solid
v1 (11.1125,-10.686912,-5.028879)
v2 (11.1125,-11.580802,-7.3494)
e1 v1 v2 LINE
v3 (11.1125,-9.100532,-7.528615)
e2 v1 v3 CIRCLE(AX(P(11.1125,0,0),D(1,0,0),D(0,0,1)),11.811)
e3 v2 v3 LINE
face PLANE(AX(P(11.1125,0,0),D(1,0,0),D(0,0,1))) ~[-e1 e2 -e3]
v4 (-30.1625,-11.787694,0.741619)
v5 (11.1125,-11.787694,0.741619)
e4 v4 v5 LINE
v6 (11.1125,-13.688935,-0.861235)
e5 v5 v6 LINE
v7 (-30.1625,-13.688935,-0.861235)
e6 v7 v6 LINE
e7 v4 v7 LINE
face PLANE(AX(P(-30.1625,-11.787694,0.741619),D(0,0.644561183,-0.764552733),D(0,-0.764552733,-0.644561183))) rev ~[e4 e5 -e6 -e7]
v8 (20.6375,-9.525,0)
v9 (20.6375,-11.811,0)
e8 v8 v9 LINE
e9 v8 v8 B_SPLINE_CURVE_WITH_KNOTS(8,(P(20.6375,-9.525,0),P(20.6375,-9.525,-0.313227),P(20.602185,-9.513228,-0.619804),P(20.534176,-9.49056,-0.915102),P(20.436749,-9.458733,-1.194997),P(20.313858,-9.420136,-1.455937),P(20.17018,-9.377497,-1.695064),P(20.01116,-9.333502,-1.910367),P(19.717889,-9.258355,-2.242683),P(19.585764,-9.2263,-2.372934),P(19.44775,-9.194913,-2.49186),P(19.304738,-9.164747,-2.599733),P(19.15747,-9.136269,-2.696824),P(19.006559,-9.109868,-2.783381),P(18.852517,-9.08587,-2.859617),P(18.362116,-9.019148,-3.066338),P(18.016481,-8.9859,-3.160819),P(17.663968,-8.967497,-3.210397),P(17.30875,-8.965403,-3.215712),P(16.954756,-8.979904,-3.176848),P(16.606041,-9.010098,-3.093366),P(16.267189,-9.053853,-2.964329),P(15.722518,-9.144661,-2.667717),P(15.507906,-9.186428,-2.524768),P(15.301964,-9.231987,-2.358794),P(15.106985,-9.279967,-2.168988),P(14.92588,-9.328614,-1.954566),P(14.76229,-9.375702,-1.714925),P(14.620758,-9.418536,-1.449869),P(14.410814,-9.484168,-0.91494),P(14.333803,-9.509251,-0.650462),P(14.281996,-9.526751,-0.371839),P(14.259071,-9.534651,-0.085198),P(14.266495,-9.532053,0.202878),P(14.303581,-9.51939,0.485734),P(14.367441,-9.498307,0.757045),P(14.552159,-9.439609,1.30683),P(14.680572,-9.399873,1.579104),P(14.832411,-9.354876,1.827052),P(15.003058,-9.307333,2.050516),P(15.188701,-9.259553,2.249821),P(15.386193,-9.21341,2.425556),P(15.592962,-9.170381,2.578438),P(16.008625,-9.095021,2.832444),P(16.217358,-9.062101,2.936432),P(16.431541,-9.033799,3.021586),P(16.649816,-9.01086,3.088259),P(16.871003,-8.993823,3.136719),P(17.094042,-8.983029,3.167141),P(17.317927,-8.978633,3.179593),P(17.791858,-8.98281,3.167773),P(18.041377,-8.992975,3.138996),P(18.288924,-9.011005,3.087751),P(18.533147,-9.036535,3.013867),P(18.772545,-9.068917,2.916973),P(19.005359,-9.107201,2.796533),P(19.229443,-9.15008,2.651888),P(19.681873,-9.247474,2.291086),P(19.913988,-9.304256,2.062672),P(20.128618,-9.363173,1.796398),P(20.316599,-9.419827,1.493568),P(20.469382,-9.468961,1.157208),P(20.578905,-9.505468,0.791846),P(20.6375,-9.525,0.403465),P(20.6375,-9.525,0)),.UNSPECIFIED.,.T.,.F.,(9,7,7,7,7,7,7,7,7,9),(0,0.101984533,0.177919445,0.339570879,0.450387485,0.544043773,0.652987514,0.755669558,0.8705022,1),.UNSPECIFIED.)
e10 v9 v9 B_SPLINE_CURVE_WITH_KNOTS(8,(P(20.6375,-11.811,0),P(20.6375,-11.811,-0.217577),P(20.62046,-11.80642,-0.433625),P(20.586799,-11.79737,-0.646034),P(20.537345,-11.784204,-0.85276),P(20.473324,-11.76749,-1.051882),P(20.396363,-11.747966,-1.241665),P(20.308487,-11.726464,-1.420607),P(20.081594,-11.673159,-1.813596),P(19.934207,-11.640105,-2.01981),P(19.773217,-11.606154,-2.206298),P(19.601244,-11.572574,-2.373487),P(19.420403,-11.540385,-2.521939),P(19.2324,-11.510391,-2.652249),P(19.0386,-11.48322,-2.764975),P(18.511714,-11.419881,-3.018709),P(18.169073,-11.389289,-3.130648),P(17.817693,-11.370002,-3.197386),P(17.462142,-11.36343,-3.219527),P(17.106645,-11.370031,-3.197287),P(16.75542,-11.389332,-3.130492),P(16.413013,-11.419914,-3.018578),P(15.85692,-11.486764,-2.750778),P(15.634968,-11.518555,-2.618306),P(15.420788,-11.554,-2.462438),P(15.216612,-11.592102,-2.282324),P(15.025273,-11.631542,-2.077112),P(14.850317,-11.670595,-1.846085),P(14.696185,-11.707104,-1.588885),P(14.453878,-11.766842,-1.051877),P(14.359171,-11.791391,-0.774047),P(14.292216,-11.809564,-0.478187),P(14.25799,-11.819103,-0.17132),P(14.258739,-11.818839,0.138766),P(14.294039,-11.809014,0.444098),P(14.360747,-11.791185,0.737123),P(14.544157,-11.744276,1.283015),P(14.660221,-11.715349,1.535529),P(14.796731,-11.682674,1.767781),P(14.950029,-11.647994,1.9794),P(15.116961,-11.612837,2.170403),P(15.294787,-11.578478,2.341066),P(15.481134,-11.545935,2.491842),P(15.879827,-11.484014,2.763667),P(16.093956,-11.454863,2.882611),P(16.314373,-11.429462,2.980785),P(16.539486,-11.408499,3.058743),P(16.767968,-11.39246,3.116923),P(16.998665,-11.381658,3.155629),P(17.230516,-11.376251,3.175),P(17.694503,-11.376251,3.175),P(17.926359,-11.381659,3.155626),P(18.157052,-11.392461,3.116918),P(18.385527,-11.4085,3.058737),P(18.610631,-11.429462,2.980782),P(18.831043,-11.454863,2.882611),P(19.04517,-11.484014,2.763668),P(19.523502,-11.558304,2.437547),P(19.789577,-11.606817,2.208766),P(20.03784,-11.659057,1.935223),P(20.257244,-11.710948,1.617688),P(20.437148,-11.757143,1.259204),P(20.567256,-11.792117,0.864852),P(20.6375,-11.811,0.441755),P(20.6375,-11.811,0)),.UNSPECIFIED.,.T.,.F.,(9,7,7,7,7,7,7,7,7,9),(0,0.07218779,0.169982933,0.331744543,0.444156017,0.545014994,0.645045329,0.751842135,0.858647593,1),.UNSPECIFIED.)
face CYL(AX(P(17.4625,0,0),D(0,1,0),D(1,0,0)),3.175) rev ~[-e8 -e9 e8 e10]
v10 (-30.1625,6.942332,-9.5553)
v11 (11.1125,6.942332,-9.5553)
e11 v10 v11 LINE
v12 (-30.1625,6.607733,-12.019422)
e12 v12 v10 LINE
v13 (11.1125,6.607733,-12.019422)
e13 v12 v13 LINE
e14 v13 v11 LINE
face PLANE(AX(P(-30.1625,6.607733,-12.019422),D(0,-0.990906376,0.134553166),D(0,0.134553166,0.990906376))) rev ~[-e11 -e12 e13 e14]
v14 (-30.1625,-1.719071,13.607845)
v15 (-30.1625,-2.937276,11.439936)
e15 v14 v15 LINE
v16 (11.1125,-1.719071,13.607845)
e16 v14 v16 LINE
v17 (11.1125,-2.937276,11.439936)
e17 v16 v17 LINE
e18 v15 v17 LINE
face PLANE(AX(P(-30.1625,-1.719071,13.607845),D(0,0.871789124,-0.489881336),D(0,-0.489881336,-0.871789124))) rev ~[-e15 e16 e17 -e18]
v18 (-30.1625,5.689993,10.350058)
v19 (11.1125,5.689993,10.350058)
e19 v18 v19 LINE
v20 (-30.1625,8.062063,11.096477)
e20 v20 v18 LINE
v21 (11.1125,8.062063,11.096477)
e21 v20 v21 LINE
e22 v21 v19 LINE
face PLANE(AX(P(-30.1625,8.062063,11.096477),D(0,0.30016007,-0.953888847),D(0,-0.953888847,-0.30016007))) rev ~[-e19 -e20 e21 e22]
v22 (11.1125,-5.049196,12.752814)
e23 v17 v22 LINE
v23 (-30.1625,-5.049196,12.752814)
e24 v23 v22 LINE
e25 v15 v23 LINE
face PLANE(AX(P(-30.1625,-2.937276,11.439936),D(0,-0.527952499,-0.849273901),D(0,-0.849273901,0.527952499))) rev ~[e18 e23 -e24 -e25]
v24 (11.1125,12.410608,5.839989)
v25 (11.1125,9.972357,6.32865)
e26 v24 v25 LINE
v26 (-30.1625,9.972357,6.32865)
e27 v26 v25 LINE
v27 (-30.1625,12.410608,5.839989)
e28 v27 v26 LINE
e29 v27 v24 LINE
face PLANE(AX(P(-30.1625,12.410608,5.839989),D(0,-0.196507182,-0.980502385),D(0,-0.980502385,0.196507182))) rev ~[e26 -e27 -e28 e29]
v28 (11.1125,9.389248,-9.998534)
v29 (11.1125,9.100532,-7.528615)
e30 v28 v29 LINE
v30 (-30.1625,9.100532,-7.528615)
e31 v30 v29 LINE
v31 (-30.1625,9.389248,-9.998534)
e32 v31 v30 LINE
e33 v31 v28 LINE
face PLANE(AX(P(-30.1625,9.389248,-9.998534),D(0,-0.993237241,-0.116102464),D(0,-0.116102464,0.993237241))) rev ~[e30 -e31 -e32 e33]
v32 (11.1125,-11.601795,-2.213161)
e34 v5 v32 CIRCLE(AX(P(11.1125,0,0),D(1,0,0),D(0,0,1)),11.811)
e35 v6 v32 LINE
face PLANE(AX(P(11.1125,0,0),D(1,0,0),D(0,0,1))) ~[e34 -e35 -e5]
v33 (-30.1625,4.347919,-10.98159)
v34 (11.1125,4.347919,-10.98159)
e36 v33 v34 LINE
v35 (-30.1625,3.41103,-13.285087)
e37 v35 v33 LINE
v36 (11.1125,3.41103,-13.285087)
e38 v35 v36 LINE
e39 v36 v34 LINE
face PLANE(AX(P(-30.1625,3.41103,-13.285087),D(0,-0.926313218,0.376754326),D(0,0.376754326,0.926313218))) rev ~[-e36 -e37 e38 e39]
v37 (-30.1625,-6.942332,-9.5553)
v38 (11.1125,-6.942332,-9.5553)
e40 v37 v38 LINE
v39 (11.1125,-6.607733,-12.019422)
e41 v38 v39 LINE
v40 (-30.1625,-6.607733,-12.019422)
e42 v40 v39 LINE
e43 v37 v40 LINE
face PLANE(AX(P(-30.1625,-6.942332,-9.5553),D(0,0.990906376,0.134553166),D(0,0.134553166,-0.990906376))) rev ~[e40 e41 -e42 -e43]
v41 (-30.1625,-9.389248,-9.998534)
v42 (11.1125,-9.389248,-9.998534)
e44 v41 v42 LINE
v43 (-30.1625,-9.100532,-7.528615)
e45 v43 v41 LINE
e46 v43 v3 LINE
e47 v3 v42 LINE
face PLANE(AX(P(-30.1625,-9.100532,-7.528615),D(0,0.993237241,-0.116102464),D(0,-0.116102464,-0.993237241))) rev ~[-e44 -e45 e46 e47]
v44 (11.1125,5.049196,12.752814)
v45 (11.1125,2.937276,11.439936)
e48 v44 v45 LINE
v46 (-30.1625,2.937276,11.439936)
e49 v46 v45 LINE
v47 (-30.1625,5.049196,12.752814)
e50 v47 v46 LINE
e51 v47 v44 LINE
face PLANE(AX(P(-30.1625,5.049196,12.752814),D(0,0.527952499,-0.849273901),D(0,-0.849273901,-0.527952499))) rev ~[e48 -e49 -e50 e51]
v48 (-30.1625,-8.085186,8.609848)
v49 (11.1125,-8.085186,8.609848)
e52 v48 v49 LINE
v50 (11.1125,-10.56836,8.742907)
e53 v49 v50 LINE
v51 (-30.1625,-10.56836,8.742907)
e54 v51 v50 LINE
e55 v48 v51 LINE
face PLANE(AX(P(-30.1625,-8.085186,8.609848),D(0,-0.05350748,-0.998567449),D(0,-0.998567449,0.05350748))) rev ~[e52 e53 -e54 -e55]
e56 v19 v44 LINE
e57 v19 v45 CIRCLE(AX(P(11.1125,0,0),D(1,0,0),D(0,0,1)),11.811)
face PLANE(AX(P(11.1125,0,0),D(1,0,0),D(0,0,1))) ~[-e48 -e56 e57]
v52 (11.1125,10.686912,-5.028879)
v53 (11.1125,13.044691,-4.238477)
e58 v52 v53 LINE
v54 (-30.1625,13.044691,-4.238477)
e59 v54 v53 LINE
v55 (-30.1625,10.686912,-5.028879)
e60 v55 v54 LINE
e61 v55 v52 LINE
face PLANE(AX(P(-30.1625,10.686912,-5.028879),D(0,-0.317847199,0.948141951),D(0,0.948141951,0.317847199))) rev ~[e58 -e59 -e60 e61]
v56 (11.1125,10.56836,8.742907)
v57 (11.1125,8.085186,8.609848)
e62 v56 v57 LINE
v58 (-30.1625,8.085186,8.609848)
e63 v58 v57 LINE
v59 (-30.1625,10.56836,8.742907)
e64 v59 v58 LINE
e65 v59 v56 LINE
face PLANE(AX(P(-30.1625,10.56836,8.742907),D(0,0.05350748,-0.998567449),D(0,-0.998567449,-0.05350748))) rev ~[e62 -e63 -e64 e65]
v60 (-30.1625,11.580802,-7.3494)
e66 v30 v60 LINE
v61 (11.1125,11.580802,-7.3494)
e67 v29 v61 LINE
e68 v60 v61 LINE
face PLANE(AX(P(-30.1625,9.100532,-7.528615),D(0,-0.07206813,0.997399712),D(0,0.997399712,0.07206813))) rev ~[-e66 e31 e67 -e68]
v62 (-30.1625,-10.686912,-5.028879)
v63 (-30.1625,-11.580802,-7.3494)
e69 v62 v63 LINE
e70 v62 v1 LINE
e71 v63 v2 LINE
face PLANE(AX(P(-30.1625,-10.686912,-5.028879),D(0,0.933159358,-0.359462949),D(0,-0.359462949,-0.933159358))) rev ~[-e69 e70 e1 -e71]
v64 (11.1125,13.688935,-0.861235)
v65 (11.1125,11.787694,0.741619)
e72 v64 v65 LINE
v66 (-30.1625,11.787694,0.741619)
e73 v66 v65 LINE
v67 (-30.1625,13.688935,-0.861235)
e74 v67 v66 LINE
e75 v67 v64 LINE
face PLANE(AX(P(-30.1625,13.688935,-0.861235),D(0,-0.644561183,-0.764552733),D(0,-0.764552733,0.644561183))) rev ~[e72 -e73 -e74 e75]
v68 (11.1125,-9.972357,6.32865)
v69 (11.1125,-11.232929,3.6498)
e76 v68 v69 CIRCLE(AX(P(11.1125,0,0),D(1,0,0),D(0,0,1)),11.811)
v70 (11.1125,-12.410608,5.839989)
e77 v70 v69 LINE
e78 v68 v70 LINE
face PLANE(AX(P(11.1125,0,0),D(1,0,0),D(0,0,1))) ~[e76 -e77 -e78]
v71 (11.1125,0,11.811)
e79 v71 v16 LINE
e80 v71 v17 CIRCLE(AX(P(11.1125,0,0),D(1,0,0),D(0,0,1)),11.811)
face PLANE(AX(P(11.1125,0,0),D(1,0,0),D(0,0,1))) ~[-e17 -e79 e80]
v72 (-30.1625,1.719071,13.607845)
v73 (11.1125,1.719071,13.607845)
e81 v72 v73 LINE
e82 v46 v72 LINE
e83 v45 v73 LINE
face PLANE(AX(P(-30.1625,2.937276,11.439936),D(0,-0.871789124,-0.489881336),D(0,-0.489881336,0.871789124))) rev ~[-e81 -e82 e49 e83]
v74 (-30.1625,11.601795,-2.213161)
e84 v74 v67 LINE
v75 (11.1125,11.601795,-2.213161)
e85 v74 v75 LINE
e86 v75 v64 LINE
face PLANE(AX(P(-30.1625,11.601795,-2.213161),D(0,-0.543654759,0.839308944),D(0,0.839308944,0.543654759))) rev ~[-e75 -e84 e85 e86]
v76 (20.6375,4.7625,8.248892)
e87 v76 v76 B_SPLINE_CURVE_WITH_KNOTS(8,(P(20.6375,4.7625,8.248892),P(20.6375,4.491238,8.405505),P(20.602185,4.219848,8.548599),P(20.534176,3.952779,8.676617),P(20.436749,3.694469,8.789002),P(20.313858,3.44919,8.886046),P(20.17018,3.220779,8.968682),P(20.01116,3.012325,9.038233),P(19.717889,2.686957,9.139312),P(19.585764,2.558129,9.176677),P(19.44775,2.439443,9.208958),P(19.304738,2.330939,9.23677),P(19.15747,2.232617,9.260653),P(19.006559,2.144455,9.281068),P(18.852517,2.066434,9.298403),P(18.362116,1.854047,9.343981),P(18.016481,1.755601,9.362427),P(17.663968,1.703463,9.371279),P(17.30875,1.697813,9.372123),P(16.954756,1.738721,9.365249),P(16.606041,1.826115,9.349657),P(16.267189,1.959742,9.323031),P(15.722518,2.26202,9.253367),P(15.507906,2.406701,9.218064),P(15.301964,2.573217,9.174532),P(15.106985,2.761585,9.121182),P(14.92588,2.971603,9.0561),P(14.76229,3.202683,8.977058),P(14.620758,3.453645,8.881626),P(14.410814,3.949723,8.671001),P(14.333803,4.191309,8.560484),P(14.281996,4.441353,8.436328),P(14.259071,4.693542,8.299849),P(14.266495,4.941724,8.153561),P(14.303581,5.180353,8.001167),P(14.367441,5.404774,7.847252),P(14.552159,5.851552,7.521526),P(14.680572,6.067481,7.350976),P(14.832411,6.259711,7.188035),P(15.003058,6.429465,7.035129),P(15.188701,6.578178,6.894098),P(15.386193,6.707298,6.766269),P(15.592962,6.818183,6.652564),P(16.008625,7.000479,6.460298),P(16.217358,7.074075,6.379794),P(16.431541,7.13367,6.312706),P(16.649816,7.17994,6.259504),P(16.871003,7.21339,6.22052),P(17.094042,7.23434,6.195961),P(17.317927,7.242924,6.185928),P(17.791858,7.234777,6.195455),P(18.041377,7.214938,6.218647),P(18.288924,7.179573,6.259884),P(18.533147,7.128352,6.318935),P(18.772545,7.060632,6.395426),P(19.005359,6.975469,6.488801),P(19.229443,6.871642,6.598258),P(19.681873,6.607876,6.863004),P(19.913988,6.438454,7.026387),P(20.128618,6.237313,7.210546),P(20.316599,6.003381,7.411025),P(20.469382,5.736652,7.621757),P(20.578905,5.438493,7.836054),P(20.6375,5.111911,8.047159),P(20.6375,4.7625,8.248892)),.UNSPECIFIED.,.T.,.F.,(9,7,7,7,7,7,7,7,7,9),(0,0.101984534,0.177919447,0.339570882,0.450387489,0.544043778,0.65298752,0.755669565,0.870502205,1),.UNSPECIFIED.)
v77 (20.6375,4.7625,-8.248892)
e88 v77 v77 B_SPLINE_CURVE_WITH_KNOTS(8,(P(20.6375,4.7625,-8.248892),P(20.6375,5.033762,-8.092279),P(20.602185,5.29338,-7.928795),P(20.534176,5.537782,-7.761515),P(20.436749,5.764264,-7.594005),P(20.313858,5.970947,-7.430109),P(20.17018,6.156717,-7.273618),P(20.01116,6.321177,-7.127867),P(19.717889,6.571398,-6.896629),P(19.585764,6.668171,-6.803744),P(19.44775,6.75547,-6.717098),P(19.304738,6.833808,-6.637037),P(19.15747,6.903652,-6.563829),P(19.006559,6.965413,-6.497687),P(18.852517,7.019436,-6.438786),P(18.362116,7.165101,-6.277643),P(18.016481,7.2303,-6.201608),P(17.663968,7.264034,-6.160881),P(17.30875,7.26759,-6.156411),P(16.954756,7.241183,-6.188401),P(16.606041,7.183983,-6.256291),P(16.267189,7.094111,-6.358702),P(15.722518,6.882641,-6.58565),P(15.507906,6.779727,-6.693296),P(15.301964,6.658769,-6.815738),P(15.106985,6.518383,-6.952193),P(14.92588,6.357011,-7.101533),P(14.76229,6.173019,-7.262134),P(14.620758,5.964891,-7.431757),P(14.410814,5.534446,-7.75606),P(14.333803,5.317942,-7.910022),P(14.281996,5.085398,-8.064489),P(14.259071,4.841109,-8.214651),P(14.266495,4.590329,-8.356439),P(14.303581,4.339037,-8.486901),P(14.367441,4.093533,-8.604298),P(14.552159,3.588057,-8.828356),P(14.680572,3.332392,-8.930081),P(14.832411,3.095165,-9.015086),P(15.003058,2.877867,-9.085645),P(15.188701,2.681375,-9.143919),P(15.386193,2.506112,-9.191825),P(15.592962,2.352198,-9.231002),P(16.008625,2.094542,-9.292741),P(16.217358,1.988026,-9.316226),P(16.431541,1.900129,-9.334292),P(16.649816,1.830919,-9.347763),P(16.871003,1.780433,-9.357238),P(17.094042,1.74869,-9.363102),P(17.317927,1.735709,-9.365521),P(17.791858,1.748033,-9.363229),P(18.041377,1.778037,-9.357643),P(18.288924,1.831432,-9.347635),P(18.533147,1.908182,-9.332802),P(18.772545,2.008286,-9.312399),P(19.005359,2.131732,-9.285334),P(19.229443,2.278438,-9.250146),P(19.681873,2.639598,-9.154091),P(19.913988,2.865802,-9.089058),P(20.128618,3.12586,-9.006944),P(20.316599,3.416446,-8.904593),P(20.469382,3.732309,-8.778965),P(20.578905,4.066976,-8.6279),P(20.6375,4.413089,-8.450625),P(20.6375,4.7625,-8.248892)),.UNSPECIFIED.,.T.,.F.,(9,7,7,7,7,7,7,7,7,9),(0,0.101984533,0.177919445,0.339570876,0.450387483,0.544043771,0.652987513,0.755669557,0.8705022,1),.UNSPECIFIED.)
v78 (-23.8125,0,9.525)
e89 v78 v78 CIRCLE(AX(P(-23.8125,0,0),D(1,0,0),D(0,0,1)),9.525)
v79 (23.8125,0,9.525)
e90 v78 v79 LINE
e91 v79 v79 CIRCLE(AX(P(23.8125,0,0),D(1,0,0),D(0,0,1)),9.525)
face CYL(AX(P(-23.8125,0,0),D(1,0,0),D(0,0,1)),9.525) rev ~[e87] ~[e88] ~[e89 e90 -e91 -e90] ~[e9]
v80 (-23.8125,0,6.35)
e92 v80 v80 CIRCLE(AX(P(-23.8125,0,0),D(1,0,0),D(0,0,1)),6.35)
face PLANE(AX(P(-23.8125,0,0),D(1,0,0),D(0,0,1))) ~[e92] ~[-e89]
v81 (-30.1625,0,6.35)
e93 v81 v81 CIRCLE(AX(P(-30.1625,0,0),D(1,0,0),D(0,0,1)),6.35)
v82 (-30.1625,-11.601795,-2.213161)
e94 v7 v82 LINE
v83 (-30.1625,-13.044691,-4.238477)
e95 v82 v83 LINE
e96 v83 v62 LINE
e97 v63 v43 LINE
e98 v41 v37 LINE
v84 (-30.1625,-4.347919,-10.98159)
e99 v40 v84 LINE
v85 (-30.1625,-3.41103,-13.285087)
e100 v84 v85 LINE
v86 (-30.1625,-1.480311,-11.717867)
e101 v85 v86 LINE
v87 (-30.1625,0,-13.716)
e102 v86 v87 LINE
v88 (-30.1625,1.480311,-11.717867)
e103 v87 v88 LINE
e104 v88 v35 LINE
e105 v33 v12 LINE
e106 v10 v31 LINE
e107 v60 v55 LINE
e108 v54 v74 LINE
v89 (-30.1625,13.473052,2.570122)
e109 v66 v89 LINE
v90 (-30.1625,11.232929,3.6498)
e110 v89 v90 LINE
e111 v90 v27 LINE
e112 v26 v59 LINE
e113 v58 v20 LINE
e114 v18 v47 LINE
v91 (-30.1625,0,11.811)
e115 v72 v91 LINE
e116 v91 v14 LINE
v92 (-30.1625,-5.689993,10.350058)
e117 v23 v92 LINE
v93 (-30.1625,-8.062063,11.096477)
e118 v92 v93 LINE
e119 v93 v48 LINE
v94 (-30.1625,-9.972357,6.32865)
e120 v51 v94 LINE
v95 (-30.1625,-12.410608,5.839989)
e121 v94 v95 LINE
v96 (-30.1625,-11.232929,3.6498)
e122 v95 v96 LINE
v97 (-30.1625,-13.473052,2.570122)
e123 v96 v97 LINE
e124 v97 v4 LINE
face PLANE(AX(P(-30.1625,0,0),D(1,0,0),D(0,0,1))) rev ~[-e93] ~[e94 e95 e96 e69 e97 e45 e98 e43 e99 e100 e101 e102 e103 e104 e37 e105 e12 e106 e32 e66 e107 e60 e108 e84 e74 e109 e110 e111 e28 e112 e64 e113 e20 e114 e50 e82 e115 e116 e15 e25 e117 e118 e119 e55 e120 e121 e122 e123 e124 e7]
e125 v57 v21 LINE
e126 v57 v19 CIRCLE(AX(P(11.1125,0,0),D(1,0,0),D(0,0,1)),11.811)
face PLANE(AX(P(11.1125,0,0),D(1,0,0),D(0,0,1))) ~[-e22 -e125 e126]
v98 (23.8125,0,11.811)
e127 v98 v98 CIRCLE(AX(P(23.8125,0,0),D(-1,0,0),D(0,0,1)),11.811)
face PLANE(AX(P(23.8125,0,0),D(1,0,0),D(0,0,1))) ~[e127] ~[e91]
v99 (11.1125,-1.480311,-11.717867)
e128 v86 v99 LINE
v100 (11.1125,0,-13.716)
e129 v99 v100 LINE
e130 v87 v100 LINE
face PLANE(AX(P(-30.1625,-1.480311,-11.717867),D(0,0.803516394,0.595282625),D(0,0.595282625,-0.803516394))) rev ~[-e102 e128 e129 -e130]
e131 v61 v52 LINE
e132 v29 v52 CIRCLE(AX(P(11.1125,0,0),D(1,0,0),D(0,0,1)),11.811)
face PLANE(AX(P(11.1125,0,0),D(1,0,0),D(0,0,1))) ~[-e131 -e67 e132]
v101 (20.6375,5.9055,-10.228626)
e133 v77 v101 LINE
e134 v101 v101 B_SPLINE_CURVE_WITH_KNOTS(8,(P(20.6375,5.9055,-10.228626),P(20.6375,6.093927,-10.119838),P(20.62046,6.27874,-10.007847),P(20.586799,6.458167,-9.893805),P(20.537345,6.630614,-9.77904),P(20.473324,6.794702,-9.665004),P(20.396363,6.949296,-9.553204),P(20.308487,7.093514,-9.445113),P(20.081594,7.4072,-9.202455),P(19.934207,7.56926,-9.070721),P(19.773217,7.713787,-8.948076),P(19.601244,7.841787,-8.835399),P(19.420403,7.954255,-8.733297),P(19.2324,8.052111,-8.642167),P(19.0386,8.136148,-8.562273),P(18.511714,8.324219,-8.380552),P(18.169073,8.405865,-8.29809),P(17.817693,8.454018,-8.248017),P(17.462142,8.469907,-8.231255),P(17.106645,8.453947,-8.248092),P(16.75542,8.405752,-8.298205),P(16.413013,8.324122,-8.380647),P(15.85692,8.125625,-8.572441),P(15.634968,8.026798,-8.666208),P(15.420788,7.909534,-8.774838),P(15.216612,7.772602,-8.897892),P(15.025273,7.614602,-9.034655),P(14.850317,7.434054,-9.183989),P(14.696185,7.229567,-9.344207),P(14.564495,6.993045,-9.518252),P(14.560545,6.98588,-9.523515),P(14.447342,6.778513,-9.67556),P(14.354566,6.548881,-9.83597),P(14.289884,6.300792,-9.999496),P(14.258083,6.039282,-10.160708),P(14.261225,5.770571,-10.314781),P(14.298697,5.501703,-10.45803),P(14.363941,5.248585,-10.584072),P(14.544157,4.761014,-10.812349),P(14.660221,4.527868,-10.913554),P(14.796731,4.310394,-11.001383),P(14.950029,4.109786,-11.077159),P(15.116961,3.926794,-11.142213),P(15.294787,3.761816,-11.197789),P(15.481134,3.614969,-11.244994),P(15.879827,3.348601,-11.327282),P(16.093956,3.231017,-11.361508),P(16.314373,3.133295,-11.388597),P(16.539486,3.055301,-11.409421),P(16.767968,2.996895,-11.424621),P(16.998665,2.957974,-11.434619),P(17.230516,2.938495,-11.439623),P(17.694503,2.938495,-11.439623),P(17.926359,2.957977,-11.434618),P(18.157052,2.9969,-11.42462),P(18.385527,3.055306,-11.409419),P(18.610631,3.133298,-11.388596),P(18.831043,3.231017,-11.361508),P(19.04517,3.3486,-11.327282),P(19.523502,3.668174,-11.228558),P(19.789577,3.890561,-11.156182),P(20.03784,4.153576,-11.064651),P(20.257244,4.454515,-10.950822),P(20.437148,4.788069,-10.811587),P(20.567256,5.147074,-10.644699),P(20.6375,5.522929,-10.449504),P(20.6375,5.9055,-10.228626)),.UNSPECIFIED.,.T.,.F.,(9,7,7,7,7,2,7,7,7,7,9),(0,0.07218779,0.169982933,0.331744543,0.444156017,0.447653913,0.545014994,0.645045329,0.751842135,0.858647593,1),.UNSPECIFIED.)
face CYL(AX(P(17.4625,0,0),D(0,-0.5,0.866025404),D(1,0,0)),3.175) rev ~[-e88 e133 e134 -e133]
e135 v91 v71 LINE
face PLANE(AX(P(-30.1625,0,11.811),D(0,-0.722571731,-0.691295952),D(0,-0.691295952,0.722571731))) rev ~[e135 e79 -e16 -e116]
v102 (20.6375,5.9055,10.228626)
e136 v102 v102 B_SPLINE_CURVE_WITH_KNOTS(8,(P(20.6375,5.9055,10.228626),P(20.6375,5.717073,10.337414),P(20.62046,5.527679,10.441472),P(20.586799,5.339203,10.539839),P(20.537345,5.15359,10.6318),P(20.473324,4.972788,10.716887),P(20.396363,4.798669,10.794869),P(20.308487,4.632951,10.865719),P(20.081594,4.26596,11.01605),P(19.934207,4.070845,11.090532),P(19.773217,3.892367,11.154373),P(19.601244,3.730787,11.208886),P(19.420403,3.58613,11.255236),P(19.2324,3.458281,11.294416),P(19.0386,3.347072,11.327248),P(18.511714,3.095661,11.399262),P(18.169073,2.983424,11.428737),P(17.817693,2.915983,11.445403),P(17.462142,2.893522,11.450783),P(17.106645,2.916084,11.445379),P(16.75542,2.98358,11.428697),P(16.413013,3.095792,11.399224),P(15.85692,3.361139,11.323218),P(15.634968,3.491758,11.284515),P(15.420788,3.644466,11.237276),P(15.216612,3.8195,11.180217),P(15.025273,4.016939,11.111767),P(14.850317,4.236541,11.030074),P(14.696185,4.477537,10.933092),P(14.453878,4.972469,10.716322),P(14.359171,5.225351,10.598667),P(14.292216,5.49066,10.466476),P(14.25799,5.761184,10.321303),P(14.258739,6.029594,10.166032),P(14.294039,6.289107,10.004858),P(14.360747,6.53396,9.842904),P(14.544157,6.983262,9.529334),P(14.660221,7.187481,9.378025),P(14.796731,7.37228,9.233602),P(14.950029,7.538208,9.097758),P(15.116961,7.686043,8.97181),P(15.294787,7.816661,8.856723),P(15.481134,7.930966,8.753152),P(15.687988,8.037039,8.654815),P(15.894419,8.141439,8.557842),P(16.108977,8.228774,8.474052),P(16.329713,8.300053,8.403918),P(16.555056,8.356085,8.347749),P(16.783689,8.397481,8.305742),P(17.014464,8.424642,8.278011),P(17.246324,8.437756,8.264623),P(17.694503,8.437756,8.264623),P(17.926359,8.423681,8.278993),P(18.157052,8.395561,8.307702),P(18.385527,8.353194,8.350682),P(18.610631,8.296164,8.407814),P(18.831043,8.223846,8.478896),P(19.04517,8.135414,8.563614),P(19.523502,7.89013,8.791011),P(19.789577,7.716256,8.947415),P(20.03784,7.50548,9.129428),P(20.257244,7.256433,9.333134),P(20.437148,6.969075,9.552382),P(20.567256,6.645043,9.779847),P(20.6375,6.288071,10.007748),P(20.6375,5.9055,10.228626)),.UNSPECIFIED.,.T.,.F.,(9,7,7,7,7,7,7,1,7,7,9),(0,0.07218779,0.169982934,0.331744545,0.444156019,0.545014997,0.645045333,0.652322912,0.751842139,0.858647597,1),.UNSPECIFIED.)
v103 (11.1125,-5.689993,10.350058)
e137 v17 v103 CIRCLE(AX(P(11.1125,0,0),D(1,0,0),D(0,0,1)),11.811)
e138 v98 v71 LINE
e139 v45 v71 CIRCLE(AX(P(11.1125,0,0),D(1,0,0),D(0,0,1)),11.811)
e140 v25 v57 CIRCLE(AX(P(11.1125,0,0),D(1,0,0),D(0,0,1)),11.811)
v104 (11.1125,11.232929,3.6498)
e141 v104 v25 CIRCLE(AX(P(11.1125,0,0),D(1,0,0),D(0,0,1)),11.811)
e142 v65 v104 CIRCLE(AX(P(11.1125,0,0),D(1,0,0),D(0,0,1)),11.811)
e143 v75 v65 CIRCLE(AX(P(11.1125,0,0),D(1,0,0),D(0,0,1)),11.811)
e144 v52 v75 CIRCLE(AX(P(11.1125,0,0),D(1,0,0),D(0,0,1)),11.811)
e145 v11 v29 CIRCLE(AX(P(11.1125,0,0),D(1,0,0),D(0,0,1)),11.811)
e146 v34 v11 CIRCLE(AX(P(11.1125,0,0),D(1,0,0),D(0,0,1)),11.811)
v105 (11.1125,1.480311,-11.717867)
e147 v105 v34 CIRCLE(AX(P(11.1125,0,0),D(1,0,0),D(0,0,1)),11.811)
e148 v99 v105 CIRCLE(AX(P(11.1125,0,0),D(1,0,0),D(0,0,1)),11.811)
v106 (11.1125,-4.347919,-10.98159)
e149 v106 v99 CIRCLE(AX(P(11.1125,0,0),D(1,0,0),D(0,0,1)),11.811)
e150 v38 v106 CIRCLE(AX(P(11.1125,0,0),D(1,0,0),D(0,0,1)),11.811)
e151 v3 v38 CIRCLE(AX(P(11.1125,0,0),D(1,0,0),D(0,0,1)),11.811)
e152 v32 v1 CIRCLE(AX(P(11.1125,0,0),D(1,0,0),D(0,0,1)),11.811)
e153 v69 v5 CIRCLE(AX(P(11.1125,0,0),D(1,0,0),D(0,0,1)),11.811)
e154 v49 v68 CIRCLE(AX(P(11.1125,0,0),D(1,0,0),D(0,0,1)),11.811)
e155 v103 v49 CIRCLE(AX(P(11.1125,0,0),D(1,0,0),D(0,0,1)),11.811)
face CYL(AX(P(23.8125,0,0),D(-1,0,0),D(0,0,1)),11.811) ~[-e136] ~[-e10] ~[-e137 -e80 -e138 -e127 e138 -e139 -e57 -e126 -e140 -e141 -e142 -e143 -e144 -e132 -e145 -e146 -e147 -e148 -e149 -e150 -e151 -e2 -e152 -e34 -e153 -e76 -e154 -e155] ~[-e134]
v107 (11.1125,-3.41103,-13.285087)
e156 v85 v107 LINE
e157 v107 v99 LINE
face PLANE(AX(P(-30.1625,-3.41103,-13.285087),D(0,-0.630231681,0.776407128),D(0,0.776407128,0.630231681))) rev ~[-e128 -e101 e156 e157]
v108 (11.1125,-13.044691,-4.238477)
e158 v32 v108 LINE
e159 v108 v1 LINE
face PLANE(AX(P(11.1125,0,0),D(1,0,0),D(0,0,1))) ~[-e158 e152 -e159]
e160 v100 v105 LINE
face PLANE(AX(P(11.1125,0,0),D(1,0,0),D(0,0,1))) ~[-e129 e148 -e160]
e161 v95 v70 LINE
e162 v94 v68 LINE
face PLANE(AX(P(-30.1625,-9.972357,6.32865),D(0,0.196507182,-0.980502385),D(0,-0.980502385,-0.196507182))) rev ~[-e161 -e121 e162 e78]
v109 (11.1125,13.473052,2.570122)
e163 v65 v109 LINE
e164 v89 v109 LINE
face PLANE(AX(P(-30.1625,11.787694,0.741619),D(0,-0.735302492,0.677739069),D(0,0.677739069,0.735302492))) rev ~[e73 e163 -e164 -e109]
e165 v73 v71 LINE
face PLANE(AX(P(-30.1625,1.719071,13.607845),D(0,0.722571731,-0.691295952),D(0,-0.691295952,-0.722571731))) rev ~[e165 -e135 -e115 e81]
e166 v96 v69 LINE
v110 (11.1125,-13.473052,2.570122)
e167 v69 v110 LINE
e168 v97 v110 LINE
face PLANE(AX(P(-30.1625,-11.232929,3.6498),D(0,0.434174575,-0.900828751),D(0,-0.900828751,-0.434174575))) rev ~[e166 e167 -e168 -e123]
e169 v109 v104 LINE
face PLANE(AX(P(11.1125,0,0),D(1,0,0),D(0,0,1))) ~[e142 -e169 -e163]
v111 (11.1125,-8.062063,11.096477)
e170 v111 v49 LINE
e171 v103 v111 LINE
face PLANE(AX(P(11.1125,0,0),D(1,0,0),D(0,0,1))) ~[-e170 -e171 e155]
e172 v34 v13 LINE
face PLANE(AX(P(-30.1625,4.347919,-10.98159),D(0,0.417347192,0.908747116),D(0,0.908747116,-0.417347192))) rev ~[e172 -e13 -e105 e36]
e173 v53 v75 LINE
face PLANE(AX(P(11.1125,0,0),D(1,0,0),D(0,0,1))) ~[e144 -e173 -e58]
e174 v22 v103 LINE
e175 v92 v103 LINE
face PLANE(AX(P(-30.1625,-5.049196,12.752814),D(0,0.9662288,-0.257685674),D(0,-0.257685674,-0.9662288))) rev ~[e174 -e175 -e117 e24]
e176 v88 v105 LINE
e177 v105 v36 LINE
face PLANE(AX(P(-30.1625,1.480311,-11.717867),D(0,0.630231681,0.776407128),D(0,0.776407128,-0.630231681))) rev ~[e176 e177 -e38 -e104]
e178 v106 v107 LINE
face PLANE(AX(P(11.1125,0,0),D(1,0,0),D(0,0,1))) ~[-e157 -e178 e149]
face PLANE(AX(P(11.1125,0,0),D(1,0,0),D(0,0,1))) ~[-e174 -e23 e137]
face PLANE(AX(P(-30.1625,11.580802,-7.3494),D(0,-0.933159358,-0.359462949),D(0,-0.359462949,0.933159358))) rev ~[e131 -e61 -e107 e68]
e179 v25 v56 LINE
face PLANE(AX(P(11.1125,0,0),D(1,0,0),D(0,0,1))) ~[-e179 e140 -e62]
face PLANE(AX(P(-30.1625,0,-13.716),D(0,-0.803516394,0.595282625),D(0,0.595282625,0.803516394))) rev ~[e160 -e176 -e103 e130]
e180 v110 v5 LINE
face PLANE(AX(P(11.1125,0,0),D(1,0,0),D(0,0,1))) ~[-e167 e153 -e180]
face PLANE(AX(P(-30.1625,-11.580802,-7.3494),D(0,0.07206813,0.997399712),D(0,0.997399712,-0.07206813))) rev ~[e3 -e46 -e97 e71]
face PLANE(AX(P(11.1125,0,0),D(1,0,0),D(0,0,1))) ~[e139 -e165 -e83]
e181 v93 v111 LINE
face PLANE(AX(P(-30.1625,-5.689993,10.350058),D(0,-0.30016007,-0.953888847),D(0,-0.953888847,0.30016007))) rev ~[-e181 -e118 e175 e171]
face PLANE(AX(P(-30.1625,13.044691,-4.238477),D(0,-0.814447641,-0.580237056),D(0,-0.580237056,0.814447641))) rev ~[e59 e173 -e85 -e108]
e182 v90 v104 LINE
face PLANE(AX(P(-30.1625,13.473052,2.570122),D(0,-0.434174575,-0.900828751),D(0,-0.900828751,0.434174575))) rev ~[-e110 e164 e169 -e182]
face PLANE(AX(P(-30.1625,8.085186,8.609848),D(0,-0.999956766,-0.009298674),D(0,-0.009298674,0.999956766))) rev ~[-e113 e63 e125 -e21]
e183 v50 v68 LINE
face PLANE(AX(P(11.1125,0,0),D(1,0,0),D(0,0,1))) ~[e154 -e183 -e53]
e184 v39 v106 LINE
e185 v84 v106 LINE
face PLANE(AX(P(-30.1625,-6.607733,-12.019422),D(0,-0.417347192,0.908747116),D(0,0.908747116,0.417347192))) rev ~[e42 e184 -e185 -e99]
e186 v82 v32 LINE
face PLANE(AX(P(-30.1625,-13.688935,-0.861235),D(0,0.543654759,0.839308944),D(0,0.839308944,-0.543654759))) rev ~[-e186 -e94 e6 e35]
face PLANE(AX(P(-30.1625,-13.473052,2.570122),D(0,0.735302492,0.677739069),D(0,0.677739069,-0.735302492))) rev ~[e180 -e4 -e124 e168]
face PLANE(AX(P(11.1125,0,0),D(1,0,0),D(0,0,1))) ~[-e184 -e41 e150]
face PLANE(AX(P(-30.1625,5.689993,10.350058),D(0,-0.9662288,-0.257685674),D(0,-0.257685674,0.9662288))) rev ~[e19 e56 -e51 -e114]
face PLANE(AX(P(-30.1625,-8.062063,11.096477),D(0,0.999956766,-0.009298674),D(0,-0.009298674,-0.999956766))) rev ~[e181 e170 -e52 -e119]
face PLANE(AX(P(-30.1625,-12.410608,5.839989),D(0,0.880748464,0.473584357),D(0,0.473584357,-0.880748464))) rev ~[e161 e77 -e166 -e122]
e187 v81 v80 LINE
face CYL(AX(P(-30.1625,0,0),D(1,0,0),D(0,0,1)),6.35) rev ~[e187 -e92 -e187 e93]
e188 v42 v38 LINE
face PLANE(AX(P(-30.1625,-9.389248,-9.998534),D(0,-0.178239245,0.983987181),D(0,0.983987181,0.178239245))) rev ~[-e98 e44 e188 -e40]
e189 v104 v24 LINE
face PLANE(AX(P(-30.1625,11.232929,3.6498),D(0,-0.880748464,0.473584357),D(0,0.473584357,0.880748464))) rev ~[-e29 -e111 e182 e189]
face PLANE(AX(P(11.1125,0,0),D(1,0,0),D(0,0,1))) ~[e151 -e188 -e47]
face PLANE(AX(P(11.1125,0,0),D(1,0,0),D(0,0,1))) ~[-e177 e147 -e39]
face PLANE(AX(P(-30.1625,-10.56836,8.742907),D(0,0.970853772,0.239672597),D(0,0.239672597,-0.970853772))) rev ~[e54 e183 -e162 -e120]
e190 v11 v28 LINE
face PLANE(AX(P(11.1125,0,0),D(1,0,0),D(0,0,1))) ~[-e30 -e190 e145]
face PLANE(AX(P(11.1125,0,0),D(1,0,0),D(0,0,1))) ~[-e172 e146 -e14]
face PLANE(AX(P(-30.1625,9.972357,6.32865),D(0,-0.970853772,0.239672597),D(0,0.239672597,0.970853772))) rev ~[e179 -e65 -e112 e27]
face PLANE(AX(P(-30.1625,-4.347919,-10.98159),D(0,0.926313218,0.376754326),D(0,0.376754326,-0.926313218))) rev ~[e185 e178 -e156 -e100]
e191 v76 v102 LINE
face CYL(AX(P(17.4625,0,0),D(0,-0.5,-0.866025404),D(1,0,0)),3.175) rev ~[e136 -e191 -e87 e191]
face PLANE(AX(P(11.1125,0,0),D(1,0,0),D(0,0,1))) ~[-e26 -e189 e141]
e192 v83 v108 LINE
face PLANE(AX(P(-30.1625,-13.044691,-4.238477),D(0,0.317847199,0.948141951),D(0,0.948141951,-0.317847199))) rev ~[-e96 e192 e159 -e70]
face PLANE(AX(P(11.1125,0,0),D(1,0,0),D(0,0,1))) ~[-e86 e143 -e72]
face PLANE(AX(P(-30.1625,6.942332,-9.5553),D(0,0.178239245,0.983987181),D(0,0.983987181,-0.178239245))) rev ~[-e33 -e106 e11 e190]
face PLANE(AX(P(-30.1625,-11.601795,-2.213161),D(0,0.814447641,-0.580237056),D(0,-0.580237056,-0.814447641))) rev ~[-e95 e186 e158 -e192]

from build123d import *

# Parameters (mm, degrees)
SKETCH2_R          = 3.175
CUT_EXTRUDE1_DEPTH = 16.875
CIRPATTERN1_COUNT  = 3
SKETCH3_R          = 15.875
CUT_EXTRUDE2_DEPTH = 54.9750001


with BuildPart() as part:
    # Sketch1 → Revolve1 (revolve)
    with BuildSketch(Plane(origin=(0, 0, 0), x_dir=(1, 0, 0), z_dir=(0, 1, 0))):
        Polygon((-30.1625, -15.875), (-30.1625, -6.35), (-23.8125, -6.35), (-23.8125, -9.525), (23.8125, -9.525), (23.8125, -11.811), (11.1125, -11.811), (11.1125, -15.875), align=None)
    revolve(axis=Axis((-42.066572288, 0, 0), (1, 0, 0)))

    # Sketch2 → Cut-Extrude1 (cut, through all)
    with BuildSketch(Plane(origin=(0, 0, 0), x_dir=(1, 0, 0), z_dir=(0, 1, 0))):
        with Locations((17.4625, 0)):
            Circle(SKETCH2_R)
    cut_extrude1 = extrude(amount=-CUT_EXTRUDE1_DEPTH, mode=Mode.SUBTRACT)

    # CirPattern1: Cut-Extrude1 ×3 about axis
    cirpattern1_axis = Axis((-42.066572288, 0, 0), (1, 0, 0))
    for i in range(1, CIRPATTERN1_COUNT):
        add(cut_extrude1.rotate(cirpattern1_axis, i * 360 / CIRPATTERN1_COUNT), mode=Mode.SUBTRACT)

    # Sketch3 → Cut-Extrude2 (cut, through all)
    with BuildSketch(Plane.ZY.offset(30.1625)):
        Circle(SKETCH3_R)
        Polygon((13.607845243, 1.719070632), (11.811, 0), (13.607845243, -1.719070632), (11.439935716, -2.937276257), (12.75281428, -5.049196365), (10.350058198, -5.689992645), (11.096477095, -8.06206252), (8.609848458, -8.085185868), (8.742907443, -10.568359638), (6.328650275, -9.972357128), (5.839988763, -12.410607852), (3.649799721, -11.232928514), (2.570122111, -13.473051931), (0.741618826, -11.787693689), (-0.861234766, -13.688934607), (-2.213160707, -11.601794718), (-4.238477095, -13.044691178), (-5.028879213, -10.686912317), (-7.34940032, -11.580801826), (-7.528614743, -9.10053191), (-9.998533694, -9.389248105), (-9.555299721, -6.942331615), (-12.019422423, -6.607733394), (-10.981590075, -4.347919092), (-13.285086638, -3.411030492), (-11.717866737, -1.480310822), (-13.716, 0), (-11.717866737, 1.480310822), (-13.285086638, 3.411030492), (-10.981590075, 4.347919092), (-12.019422423, 6.607733394), (-9.555299721, 6.942331615), (-9.998533694, 9.389248105), (-7.528614743, 9.10053191), (-7.34940032, 11.580801826), (-5.028879213, 10.686912317), (-4.238477095, 13.044691178), (-2.213160707, 11.601794718), (-0.861234766, 13.688934607), (0.741618826, 11.787693689), (2.570122111, 13.473051931), (3.649799721, 11.232928514), (5.839988763, 12.410607852), (6.328650275, 9.972357128), (8.742907443, 10.568359638), (8.609848458, 8.085185868), (11.096477095, 8.06206252), (10.350058198, 5.689992645), (12.75281428, 5.049196365), (11.439935716, 2.937276257), align=None, mode=Mode.SUBTRACT)
    extrude(amount=-CUT_EXTRUDE2_DEPTH, mode=Mode.SUBTRACT)


solid = part.part
